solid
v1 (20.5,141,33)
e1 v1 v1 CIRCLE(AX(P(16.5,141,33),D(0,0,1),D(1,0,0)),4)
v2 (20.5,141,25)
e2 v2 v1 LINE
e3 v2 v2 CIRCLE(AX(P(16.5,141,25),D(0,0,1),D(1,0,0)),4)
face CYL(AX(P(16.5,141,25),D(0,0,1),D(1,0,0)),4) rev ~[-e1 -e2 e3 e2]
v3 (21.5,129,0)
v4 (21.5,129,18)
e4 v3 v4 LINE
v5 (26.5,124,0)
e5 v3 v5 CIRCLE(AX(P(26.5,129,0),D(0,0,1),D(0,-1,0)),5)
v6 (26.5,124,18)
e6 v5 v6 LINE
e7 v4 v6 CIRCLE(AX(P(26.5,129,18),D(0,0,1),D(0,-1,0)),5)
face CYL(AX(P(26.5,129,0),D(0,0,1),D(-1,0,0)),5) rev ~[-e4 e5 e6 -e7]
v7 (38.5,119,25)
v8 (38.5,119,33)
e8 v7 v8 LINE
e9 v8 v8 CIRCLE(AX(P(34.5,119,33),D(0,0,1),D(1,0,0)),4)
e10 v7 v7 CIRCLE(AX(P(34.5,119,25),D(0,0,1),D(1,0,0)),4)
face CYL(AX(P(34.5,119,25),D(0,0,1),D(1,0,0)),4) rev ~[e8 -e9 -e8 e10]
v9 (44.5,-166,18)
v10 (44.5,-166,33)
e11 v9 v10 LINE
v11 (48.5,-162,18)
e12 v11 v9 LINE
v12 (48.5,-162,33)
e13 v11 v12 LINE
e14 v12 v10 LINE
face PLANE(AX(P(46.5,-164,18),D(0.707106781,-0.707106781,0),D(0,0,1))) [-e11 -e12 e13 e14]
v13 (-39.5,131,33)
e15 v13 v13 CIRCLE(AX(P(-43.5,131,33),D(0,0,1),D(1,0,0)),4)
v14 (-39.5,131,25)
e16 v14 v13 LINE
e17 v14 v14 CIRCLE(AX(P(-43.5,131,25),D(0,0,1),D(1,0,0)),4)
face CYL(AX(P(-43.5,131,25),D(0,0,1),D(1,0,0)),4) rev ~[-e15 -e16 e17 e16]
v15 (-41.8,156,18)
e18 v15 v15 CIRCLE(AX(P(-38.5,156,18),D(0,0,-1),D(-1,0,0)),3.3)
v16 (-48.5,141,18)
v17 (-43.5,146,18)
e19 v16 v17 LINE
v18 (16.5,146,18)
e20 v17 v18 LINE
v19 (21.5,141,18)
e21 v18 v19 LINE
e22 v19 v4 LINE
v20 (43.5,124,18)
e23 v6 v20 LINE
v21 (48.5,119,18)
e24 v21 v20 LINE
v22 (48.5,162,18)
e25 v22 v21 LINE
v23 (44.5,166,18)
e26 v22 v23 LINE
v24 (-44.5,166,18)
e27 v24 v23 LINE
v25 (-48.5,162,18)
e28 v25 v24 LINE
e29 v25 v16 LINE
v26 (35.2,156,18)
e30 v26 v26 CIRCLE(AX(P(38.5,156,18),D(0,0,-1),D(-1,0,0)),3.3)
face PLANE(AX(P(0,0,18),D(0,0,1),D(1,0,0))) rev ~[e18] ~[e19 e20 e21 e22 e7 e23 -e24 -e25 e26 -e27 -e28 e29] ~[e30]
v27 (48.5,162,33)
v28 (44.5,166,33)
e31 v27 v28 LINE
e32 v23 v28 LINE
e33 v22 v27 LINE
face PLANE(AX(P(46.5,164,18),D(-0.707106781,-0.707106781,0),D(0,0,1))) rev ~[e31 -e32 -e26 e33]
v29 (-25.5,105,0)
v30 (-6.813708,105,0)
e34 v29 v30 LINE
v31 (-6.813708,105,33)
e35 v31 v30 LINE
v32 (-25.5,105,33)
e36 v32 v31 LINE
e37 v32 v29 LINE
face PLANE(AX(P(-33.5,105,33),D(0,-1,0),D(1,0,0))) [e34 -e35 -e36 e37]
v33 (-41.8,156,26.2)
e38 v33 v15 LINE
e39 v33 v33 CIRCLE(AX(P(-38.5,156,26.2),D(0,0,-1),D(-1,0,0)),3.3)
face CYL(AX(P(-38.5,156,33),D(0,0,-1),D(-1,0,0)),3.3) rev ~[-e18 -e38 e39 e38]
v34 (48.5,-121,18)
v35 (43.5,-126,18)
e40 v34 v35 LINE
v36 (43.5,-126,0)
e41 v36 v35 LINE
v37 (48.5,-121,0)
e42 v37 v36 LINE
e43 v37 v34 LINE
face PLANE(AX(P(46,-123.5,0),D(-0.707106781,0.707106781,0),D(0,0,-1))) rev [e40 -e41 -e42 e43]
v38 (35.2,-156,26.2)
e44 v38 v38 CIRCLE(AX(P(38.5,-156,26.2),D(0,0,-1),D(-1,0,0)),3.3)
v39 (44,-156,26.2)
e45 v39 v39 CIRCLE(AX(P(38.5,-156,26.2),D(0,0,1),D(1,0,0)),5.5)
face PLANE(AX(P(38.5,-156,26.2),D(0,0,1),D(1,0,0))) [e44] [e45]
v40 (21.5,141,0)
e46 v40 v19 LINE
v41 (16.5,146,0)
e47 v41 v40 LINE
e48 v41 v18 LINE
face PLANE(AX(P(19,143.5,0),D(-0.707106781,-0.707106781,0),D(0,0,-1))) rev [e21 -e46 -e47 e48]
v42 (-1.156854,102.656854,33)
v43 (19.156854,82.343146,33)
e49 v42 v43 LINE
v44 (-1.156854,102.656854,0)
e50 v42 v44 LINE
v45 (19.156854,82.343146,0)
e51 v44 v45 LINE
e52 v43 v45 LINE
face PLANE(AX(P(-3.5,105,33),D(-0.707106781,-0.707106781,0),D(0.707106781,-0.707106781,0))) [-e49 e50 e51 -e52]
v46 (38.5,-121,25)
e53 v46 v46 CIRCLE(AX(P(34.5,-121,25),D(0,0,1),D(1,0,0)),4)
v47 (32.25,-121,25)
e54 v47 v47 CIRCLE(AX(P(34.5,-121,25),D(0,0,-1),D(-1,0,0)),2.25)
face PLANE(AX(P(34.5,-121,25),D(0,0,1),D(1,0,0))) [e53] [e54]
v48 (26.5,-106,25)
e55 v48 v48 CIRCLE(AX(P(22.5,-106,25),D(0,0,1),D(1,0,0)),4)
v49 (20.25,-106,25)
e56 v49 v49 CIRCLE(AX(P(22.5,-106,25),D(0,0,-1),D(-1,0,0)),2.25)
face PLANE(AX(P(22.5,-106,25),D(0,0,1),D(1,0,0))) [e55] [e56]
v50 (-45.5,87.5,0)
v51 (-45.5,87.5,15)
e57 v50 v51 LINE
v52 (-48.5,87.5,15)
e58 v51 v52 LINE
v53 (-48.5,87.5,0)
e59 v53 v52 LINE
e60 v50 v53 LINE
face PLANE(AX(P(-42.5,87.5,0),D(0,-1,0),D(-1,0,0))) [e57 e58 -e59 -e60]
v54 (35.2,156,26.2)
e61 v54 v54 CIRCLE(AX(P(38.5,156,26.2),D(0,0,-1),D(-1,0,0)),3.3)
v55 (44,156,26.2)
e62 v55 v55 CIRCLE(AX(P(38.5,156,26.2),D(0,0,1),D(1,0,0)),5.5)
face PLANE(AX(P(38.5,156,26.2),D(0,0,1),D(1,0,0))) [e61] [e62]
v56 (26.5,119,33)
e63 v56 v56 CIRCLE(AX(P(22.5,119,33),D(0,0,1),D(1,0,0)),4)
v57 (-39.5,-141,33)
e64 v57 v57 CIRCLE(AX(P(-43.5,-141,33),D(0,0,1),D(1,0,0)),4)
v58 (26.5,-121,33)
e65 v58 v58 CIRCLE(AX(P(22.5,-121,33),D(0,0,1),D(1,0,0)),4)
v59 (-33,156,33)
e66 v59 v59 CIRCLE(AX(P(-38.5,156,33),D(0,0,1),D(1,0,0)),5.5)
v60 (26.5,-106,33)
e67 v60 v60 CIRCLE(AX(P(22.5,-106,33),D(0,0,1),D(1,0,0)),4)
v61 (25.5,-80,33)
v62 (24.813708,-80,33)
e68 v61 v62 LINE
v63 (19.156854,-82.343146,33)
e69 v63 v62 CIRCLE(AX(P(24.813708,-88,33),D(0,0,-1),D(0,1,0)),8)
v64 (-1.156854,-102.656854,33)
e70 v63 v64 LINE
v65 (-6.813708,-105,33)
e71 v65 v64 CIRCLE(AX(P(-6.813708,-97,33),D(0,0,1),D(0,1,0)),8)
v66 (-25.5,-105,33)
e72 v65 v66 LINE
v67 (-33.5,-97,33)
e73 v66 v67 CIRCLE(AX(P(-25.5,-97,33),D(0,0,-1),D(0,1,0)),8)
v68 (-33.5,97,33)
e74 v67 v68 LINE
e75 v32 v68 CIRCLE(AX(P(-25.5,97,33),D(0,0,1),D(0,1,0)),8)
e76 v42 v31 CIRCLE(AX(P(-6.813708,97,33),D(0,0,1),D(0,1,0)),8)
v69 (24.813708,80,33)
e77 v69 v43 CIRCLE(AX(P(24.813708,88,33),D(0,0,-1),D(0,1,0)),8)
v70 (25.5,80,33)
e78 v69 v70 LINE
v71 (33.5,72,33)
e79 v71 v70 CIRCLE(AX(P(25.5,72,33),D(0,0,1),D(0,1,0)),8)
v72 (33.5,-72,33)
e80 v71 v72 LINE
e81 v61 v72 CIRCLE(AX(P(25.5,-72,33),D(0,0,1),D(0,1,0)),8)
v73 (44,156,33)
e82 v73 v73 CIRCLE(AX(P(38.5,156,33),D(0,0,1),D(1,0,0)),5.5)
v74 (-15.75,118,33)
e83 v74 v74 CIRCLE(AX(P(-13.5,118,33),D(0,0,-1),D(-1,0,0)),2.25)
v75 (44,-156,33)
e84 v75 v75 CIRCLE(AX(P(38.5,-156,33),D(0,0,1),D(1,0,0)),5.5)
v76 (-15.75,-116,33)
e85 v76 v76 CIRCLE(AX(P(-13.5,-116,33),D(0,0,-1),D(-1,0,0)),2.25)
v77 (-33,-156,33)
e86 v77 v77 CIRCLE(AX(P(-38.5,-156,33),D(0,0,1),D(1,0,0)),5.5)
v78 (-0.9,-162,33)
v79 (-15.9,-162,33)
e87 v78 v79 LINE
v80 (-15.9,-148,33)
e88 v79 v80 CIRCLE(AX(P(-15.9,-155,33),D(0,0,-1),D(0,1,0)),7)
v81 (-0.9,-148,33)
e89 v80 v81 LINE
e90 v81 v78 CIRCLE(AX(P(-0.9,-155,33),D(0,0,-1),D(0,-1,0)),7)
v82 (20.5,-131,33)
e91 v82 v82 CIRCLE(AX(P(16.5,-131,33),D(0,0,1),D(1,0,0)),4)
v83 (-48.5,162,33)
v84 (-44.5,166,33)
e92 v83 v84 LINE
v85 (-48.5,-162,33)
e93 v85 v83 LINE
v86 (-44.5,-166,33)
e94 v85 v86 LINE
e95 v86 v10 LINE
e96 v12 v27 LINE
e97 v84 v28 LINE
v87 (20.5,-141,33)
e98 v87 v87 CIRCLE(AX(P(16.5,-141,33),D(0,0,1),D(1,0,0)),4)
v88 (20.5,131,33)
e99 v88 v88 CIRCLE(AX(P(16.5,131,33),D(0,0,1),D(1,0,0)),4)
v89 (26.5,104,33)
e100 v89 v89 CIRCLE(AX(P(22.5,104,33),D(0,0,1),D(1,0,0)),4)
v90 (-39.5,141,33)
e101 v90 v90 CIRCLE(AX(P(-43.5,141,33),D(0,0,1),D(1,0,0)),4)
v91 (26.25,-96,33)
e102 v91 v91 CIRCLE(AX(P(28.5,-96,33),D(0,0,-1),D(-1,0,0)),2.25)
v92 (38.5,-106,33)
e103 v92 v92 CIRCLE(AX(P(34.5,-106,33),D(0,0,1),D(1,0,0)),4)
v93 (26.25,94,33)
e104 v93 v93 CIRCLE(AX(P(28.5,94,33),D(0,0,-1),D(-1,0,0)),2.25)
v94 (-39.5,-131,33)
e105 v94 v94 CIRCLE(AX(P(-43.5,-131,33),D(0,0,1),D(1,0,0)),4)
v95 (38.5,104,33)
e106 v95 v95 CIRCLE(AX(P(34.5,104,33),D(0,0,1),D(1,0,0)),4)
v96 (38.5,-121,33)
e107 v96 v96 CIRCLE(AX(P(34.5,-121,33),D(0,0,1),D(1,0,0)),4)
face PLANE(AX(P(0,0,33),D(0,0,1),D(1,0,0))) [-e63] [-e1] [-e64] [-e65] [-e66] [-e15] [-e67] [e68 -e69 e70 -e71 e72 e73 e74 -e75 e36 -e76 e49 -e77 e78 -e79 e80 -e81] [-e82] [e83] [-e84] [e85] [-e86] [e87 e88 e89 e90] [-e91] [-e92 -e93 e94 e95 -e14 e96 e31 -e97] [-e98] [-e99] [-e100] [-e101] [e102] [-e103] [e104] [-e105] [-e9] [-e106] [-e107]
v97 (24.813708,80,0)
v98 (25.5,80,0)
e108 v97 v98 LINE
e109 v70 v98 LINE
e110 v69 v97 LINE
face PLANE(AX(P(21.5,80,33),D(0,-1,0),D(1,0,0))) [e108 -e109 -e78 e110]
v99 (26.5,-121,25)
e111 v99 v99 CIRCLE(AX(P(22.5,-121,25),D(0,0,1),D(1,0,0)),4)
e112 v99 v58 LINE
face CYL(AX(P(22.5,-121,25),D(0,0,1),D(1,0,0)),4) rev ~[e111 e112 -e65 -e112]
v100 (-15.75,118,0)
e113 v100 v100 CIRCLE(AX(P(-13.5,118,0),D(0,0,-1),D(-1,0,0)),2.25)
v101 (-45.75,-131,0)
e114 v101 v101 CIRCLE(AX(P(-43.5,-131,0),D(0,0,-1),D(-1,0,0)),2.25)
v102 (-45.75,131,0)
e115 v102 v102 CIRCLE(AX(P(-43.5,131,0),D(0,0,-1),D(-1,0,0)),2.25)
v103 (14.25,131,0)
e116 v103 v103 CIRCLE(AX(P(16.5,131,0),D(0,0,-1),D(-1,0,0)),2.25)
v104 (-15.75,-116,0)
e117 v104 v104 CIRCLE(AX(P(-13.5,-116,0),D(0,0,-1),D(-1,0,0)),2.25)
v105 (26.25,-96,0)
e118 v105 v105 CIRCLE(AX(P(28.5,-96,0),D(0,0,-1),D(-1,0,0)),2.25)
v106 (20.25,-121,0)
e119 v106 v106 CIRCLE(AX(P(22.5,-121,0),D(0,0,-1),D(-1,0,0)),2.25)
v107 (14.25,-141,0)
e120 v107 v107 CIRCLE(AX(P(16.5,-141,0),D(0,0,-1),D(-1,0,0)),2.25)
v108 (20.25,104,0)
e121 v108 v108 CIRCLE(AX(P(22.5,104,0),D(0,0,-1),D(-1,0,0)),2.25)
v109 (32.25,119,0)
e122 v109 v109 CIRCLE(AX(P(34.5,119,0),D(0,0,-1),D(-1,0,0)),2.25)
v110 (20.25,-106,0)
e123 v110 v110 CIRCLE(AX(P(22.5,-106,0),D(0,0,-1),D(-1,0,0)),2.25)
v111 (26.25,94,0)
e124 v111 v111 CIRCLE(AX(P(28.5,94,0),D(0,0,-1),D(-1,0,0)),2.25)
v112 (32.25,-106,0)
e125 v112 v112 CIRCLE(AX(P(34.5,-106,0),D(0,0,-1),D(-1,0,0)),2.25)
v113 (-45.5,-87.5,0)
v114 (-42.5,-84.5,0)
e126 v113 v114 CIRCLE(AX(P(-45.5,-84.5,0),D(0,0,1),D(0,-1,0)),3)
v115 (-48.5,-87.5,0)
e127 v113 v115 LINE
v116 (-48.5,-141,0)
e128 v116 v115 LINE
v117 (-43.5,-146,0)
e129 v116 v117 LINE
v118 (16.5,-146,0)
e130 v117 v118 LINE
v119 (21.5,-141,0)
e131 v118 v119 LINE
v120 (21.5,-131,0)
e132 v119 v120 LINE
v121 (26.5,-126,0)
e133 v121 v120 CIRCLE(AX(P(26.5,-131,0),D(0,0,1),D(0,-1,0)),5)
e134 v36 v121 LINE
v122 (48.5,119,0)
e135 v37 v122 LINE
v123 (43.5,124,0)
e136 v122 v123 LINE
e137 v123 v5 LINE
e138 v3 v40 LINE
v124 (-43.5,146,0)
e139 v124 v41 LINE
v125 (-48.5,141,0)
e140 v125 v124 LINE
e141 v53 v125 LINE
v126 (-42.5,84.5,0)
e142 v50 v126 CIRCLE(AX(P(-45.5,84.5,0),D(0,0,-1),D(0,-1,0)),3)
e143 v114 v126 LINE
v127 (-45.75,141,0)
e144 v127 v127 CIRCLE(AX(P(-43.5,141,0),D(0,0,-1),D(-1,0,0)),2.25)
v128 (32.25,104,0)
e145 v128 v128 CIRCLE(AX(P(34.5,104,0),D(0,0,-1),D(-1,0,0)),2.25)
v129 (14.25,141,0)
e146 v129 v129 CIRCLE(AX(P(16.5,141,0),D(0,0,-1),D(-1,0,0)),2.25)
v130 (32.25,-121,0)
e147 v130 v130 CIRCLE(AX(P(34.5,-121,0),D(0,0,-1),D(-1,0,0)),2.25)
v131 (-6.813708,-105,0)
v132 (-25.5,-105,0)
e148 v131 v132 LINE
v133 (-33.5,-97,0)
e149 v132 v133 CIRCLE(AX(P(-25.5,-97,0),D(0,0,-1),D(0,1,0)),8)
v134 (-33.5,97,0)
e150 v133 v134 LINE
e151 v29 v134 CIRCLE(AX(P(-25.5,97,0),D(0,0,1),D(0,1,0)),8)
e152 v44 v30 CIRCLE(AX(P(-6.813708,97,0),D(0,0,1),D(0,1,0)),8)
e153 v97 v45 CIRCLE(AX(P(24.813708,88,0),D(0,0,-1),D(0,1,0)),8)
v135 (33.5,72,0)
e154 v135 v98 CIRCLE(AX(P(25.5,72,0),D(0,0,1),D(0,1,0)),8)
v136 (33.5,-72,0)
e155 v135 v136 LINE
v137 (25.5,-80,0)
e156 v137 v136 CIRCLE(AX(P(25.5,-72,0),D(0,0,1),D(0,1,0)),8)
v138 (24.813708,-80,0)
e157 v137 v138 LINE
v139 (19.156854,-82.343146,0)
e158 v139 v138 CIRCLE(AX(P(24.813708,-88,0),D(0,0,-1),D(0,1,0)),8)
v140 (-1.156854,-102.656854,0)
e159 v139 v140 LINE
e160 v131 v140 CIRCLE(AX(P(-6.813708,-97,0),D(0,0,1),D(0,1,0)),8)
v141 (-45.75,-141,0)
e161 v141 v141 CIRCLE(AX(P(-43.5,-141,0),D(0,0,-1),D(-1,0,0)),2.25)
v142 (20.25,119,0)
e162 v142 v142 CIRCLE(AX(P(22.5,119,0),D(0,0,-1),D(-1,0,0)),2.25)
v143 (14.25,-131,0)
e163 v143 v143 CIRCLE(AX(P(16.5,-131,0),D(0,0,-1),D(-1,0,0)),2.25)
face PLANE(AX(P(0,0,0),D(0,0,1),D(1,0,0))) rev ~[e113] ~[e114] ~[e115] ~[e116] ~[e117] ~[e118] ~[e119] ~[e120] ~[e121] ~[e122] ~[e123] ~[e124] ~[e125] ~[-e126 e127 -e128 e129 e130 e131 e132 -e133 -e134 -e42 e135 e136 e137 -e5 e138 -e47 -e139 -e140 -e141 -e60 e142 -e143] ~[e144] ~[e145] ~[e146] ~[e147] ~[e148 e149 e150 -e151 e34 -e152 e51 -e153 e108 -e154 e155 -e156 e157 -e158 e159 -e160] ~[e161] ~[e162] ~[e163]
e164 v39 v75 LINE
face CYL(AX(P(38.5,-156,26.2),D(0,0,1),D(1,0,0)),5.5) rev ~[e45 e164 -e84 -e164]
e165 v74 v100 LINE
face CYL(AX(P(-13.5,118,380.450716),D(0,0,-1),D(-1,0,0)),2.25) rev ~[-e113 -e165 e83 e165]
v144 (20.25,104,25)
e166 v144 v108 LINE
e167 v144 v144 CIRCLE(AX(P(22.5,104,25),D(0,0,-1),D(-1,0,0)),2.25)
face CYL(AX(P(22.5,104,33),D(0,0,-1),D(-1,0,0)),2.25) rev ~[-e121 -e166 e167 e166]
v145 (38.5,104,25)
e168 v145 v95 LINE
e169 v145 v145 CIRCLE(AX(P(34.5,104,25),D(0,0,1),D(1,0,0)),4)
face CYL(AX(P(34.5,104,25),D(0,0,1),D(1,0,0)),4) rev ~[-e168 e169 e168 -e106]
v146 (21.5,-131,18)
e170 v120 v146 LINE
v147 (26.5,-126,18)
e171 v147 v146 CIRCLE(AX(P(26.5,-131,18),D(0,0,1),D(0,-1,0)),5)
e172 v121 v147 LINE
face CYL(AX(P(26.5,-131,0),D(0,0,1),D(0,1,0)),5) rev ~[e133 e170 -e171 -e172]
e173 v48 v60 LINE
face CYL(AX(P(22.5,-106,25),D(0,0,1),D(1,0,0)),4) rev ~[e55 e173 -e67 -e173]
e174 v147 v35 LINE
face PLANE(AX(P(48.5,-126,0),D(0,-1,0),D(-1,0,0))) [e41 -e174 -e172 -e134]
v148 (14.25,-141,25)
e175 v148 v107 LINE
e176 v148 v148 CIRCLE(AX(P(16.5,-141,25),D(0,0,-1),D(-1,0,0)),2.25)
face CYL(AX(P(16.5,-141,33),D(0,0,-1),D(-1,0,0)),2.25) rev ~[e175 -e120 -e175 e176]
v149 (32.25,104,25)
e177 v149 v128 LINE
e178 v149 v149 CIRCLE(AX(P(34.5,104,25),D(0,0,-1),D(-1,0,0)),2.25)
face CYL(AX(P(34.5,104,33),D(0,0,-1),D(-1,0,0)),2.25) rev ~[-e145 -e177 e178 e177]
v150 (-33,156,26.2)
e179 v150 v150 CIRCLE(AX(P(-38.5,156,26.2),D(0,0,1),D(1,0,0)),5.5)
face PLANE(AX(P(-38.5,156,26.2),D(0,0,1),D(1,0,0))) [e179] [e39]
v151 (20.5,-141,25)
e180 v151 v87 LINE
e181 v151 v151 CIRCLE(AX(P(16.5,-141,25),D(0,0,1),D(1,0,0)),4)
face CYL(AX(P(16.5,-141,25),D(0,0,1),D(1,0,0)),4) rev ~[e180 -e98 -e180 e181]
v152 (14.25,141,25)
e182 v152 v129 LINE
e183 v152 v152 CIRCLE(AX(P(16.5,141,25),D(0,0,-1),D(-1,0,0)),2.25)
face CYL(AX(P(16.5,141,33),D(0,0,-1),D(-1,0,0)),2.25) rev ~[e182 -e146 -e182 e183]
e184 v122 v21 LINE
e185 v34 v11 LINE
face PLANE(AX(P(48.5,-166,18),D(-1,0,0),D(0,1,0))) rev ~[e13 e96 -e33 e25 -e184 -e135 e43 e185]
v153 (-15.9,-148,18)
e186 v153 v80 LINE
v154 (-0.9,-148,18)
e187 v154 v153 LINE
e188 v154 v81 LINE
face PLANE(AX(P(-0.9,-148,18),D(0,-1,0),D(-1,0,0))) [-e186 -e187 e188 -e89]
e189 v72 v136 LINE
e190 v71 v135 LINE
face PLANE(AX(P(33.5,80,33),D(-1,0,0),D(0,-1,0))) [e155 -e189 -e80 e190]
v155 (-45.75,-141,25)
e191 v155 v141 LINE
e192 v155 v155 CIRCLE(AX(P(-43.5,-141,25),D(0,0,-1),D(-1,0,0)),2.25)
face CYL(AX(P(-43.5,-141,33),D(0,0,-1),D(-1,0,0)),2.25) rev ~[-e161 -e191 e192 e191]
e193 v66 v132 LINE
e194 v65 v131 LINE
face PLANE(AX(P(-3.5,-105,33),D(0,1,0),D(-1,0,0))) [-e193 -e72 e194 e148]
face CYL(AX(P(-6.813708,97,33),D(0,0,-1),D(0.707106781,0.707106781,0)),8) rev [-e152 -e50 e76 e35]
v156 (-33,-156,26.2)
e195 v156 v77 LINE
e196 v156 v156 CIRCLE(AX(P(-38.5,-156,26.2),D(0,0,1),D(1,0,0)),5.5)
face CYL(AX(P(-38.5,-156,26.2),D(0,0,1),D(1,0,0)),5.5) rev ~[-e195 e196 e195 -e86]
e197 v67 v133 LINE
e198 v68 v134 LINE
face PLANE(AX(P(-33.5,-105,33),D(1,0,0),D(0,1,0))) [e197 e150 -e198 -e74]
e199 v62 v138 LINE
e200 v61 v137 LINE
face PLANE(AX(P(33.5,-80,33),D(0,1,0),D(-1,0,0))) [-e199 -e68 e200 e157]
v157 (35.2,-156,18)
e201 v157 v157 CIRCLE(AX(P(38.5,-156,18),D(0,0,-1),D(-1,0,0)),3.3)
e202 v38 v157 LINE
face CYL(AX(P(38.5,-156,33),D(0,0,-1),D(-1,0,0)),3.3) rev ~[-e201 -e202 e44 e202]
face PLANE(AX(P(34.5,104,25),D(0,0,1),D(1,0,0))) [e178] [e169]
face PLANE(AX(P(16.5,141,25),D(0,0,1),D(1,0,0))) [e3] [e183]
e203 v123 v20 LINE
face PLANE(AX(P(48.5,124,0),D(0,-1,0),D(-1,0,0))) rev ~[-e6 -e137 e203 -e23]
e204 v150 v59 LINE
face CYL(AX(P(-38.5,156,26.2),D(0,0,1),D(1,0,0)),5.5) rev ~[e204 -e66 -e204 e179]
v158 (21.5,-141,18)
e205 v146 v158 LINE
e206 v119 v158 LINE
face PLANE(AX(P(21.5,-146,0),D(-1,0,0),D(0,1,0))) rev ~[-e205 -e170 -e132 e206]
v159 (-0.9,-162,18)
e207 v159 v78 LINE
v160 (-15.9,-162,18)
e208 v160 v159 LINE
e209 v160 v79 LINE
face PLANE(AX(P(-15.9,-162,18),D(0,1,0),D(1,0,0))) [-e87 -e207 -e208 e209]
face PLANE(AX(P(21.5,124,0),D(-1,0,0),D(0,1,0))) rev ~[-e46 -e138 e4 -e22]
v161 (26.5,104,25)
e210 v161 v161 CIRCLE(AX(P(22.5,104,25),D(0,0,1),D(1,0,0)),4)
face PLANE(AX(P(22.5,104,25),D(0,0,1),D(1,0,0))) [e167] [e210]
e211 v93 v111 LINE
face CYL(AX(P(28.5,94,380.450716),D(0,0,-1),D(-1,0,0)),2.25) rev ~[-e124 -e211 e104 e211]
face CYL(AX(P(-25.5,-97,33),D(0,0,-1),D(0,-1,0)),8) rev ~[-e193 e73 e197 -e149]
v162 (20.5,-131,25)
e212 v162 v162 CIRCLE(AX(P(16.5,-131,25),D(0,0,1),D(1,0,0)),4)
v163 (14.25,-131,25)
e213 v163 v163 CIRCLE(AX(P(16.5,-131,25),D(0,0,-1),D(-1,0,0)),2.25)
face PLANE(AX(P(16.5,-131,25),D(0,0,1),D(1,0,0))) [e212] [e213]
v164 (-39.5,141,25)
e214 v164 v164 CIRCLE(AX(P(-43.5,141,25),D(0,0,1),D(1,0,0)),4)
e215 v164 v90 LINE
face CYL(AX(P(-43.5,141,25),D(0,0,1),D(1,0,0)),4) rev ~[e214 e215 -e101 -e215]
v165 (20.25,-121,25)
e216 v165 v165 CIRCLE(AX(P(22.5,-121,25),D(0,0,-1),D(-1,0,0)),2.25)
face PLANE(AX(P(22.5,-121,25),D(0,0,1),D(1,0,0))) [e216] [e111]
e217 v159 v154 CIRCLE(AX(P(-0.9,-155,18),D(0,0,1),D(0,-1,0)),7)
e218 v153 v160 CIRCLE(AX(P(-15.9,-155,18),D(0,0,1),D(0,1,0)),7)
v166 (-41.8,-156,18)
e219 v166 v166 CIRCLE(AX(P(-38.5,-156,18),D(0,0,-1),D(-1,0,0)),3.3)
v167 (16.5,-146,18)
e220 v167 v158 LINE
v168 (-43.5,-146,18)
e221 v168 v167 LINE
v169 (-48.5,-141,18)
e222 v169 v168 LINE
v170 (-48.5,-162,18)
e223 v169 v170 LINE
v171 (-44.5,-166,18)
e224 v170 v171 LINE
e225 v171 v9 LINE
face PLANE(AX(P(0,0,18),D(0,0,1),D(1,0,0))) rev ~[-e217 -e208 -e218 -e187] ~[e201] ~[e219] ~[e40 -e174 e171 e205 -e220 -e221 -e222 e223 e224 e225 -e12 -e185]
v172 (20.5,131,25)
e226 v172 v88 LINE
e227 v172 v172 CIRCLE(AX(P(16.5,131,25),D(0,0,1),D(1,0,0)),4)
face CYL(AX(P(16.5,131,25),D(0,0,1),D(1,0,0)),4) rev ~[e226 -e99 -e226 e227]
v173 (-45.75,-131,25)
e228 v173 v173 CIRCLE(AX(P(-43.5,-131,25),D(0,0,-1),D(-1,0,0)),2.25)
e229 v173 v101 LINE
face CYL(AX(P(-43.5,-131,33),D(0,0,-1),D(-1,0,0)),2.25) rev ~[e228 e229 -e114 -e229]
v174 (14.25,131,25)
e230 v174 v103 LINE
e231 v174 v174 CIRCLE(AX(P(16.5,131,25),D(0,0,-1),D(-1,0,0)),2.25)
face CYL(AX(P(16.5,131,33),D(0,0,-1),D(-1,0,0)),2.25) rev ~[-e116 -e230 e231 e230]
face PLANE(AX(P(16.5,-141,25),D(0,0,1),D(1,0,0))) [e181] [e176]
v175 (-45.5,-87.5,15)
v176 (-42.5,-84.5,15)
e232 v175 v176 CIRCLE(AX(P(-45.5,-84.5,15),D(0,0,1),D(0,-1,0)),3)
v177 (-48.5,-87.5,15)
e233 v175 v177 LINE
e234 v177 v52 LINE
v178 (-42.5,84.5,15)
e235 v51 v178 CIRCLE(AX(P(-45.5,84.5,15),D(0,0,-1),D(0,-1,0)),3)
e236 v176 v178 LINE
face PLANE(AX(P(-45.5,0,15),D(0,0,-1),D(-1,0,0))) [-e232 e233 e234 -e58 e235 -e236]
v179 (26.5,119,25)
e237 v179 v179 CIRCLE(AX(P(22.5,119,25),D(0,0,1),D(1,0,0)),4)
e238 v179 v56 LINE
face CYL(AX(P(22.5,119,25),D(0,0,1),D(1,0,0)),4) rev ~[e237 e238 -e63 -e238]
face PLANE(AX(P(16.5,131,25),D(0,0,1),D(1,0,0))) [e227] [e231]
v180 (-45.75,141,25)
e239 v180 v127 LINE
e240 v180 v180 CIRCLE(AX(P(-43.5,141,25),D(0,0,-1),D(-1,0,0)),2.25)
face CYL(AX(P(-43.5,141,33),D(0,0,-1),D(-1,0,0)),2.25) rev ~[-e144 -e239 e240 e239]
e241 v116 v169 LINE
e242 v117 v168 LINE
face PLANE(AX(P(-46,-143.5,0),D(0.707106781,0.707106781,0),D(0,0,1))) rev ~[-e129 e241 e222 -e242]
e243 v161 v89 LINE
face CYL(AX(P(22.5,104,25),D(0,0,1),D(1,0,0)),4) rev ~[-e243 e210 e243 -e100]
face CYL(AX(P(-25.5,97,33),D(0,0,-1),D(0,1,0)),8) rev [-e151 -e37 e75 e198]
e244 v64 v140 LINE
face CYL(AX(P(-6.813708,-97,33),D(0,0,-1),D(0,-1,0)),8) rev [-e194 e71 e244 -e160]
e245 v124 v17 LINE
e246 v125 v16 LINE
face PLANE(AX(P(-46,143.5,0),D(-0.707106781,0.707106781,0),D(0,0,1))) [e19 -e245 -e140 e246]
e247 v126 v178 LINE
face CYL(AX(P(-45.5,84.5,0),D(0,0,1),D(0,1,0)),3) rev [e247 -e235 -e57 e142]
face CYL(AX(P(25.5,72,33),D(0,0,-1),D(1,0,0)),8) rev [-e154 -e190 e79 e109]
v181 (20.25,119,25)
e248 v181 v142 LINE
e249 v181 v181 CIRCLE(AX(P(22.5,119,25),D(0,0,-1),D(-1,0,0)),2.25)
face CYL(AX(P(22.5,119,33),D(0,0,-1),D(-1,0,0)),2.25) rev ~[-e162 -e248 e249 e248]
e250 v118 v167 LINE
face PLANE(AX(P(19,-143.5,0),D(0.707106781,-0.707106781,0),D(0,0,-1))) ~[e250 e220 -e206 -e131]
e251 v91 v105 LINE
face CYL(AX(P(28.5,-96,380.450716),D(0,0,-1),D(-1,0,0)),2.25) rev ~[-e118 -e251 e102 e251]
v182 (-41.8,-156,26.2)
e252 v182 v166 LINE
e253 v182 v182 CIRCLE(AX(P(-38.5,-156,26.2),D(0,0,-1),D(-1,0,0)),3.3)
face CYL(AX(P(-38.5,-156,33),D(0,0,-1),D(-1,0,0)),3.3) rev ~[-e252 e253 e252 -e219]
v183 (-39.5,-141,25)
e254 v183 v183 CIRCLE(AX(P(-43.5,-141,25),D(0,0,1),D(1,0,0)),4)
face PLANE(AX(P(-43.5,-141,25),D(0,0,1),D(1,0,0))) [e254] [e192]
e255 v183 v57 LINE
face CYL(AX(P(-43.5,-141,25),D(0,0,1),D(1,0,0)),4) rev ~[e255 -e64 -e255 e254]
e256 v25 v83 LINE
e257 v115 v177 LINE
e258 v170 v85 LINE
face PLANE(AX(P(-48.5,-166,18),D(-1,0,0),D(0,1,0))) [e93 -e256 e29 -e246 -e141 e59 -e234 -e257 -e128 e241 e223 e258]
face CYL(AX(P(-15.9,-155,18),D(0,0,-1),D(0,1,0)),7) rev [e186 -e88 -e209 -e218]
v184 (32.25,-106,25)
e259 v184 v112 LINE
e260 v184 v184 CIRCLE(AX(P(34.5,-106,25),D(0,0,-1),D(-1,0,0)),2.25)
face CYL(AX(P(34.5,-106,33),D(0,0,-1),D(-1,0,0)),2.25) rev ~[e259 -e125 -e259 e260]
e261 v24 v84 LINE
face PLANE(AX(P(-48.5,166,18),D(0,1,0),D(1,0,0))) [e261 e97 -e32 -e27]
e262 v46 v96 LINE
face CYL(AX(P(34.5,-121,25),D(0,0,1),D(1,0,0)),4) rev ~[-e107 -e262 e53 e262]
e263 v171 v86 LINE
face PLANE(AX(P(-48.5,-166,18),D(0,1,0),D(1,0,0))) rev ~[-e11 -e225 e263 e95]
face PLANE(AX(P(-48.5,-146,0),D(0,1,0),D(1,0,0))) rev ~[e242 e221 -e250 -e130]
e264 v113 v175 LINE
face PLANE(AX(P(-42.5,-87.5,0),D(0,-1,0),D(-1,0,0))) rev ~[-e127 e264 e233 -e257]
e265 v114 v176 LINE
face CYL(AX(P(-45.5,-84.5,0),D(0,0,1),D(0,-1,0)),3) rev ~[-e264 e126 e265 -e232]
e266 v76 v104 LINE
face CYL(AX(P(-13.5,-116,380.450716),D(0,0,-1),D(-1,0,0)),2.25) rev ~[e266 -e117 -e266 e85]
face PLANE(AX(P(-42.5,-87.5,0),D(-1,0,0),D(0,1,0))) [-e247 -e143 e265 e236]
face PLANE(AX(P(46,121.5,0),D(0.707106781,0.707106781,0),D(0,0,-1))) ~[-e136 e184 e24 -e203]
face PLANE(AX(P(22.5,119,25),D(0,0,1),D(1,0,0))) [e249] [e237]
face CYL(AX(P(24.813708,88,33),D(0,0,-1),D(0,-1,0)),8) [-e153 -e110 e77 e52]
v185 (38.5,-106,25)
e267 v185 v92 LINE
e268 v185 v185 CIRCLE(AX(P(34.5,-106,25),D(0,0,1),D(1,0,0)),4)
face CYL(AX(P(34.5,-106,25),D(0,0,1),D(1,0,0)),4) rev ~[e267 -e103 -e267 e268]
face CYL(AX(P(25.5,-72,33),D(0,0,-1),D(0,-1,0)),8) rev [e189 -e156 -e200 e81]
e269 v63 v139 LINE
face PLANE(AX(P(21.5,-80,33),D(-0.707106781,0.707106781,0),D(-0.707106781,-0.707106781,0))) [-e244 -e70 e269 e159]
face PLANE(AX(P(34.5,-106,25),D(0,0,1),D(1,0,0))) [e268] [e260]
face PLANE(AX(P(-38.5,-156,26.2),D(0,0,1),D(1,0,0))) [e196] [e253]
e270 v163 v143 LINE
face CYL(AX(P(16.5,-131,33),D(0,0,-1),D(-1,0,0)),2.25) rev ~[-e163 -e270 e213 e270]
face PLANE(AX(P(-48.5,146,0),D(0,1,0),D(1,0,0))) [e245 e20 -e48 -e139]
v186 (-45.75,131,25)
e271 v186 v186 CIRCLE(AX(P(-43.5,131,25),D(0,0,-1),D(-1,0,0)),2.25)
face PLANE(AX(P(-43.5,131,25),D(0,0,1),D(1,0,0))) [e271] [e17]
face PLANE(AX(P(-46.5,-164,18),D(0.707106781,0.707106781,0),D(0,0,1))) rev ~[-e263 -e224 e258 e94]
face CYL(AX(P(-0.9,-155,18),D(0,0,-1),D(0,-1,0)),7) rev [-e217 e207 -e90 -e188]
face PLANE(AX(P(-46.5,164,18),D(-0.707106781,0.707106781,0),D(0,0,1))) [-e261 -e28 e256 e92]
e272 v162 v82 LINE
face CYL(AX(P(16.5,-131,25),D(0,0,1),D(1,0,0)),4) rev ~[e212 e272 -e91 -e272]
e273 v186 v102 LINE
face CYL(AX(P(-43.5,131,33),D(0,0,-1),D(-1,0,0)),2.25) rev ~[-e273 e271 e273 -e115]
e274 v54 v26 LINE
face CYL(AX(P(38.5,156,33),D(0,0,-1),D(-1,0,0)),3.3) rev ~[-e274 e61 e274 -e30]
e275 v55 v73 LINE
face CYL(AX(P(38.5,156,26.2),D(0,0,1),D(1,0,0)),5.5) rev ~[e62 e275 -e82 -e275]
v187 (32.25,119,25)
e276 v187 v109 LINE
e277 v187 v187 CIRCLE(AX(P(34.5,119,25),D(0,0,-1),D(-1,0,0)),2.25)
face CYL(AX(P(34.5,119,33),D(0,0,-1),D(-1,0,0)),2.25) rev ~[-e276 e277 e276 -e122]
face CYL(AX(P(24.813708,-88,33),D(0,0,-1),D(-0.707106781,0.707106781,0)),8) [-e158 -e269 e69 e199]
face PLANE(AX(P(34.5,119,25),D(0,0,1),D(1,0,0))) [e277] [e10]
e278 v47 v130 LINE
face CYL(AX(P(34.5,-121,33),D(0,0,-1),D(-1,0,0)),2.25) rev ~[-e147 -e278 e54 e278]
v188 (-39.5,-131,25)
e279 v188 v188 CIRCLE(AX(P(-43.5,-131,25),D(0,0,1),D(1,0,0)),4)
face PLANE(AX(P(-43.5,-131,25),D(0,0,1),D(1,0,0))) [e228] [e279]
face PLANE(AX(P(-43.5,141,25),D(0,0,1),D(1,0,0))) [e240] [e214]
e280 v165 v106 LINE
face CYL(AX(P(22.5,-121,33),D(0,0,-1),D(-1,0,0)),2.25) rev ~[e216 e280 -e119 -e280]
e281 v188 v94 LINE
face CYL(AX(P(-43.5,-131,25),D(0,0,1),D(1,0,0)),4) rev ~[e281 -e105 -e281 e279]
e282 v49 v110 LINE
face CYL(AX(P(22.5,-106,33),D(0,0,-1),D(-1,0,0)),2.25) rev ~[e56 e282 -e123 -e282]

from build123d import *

# Parameters (mm, degrees)
SKETCH1_W                                            = 97
SKETCH1_H                                            = 292
BOSS_EXTRUDE1_DEPTH                                  = 18
SKETCH2_W                                            = 27
SKETCH2_H                                            = 20
SKETCH2_H_2                                          = 22
CUT_EXTRUDE1_DEPTH                                   = 155.894318811
SKETCH3_W                                            = 97
SKETCH3_H                                            = 332
BOSS_EXTRUDE2_DEPTH                                  = 15
CHAMFER1_SIZE                                        = 5
FILLET1_R                                            = 5
CUT_EXTRUDE2_DEPTH                                   = 174.874236159
CBORE_FOR_M4_HEXAGON_SOCKET_HEAD_CAP_SCR_D           = 4.5
CBORE_FOR_M4_HEXAGON_SOCKET_HEAD_CAP_SCR_CBORE_D     = 8
CBORE_FOR_M4_HEXAGON_SOCKET_HEAD_CAP_SCR_CBORE_DEPTH = 8
M4_CLEARANCE_HOLE1_D                                 = 4.5
CBORE_FOR_M6_SLOTTED_CHEESE_HEAD_SCREWS2_D           = 6.6
CBORE_FOR_M6_SLOTTED_CHEESE_HEAD_SCREWS2_CBORE_D     = 11
CBORE_FOR_M6_SLOTTED_CHEESE_HEAD_SCREWS2_CBORE_DEPTH = 6.8
CHAMFER2_SIZE                                        = 4
CUT_EXTRUDE3_DEPTH                                   = 177.060358968
FILLET4_R                                            = 8
SKETCH13_W                                           = 6
SKETCH13_H                                           = 175
CUT_EXTRUDE4_DEPTH                                   = 15
FILLET5_R                                            = 3


with BuildPart() as part:
    # Sketch1 → Boss-Extrude1 (new body)
    with BuildSketch(Plane.XY):
        Rectangle(SKETCH1_W, SKETCH1_H)
    extrude(amount=BOSS_EXTRUDE1_DEPTH)

    # Sketch2 → Cut-Extrude1 (cut, through all)
    with BuildSketch(Plane(origin=(0, 0, 0), x_dir=(-1, 0, 0), z_dir=(0, 0, -1))):
        with Locations((-35, -136)):
            Rectangle(SKETCH2_W, SKETCH2_H)
        with Locations((-35, 135)):
            Rectangle(SKETCH2_W, SKETCH2_H_2)
    extrude(amount=-CUT_EXTRUDE1_DEPTH, mode=Mode.SUBTRACT)

    # Sketch3 → Boss-Extrude2 (add)
    with BuildSketch(Plane.XY.offset(18)):
        Rectangle(SKETCH3_W, SKETCH3_H)
    extrude(amount=BOSS_EXTRUDE2_DEPTH)

    # Chamfer1
    chamfer1_edges = [part.edges().sort_by_distance(p)[0] for p in [
        (48.5, -126, 9),
        (21.5, -146, 9),
        (48.5, 124, 9),
        (21.5, 146, 9),
        (-48.5, 146, 9),
        (-48.5, -146, 9),
    ]]
    chamfer(chamfer1_edges, length=CHAMFER1_SIZE)

    # Fillet1
    fillet1_edges = [part.edges().sort_by_distance(p)[0] for p in [
        (21.5, -126, 9),
        (21.5, 124, 9),
    ]]
    fillet(fillet1_edges, radius=FILLET1_R)

    # Sketch4 → Cut-Extrude2 (cut, through all)
    with BuildSketch(Plane(origin=(0, 0, 18), x_dir=(-1, 0, 0), z_dir=(0, 0, -1))):
        with BuildLine():
            Line((0.9, -148), (15.9, -148))
            ThreePointArc((15.9, -148), (22.9, -155), (15.9, -162))
            Line((15.9, -162), (0.9, -162))
            ThreePointArc((0.9, -162), (-6.1, -155), (0.9, -148))
        make_face()
    extrude(amount=-CUT_EXTRUDE2_DEPTH, mode=Mode.SUBTRACT)

    # CBORE for M4 Hexagon socket head cap screws1 (through all)
    with Locations(Plane.XY.offset(33)):
        with Locations((-43.5, -141), (-43.5, -131), (16.5, -131), (16.5, -141), (16.5, 141), (16.5, 131), (-43.5, 131), (-43.5, 141), (22.5, -121), (34.5, -121), (22.5, -106), (34.5, -106), (34.5, 104), (22.5, 104), (34.5, 119), (22.5, 119)):
            CounterBoreHole(CBORE_FOR_M4_HEXAGON_SOCKET_HEAD_CAP_SCR_D / 2, CBORE_FOR_M4_HEXAGON_SOCKET_HEAD_CAP_SCR_CBORE_D / 2, CBORE_FOR_M4_HEXAGON_SOCKET_HEAD_CAP_SCR_CBORE_DEPTH)

    # M4 Clearance Hole1 (through all)
    with Locations(Plane.XY.offset(33)):
        with Locations((28.5, -96), (-13.5, -116), (28.5, 94), (-13.5, 118)):
            Hole(M4_CLEARANCE_HOLE1_D / 2)

    # CBORE for M6 Slotted cheese head screws2 (through all)
    with Locations(Plane.XY.offset(33)):
        with Locations((-38.5, 156), (-38.5, -156), (38.5, -156), (38.5, 156)):
            CounterBoreHole(CBORE_FOR_M6_SLOTTED_CHEESE_HEAD_SCREWS2_D / 2, CBORE_FOR_M6_SLOTTED_CHEESE_HEAD_SCREWS2_CBORE_D / 2, CBORE_FOR_M6_SLOTTED_CHEESE_HEAD_SCREWS2_CBORE_DEPTH)

    # Chamfer2
    chamfer2_edges = [part.edges().sort_by_distance(p)[0] for p in [
        (-48.5, 166, 25.5),
        (-48.5, -166, 25.5),
        (48.5, -166, 25.5),
        (48.5, 166, 25.5),
    ]]
    chamfer(chamfer2_edges, length=CHAMFER2_SIZE)

    # Sketch12 → Cut-Extrude3 (cut, through all)
    with BuildSketch(Plane.XY.offset(33)):
        Polygon((-33.5, -105), (-33.5, 105), (-3.5, 105), (21.5, 80), (33.5, 80), (33.5, -80), (21.5, -80), (-3.5, -105), align=None)
    extrude(amount=-CUT_EXTRUDE3_DEPTH, mode=Mode.SUBTRACT)

    # Fillet4
    fillet4_edges = [part.edges().sort_by_distance(p)[0] for p in [
        (-33.5, 105, 16.5),
        (-3.5, 105, 16.5),
        (21.5, 80, 16.5),
        (33.5, 80, 16.5),
        (33.5, -80, 16.5),
        (21.5, -80, 16.5),
        (-3.5, -105, 16.5),
        (-33.5, -105, 16.5),
    ]]
    fillet(fillet4_edges, radius=FILLET4_R)

    # Sketch13 → Cut-Extrude4 (cut)
    with BuildSketch(Plane(origin=(0, 0, 0), x_dir=(-1, 0, 0), z_dir=(0, 0, -1))):
        with Locations((45.5, 0)):
            Rectangle(SKETCH13_W, SKETCH13_H)
    extrude(amount=-CUT_EXTRUDE4_DEPTH, mode=Mode.SUBTRACT)

    # Fillet5
    fillet5_edges = [part.edges().sort_by_distance(p)[0] for p in [
        (-42.5, -87.5, 7.5),
        (-42.5, 87.5, 7.5),
    ]]
    fillet(fillet5_edges, radius=FILLET5_R)


solid = part.part
